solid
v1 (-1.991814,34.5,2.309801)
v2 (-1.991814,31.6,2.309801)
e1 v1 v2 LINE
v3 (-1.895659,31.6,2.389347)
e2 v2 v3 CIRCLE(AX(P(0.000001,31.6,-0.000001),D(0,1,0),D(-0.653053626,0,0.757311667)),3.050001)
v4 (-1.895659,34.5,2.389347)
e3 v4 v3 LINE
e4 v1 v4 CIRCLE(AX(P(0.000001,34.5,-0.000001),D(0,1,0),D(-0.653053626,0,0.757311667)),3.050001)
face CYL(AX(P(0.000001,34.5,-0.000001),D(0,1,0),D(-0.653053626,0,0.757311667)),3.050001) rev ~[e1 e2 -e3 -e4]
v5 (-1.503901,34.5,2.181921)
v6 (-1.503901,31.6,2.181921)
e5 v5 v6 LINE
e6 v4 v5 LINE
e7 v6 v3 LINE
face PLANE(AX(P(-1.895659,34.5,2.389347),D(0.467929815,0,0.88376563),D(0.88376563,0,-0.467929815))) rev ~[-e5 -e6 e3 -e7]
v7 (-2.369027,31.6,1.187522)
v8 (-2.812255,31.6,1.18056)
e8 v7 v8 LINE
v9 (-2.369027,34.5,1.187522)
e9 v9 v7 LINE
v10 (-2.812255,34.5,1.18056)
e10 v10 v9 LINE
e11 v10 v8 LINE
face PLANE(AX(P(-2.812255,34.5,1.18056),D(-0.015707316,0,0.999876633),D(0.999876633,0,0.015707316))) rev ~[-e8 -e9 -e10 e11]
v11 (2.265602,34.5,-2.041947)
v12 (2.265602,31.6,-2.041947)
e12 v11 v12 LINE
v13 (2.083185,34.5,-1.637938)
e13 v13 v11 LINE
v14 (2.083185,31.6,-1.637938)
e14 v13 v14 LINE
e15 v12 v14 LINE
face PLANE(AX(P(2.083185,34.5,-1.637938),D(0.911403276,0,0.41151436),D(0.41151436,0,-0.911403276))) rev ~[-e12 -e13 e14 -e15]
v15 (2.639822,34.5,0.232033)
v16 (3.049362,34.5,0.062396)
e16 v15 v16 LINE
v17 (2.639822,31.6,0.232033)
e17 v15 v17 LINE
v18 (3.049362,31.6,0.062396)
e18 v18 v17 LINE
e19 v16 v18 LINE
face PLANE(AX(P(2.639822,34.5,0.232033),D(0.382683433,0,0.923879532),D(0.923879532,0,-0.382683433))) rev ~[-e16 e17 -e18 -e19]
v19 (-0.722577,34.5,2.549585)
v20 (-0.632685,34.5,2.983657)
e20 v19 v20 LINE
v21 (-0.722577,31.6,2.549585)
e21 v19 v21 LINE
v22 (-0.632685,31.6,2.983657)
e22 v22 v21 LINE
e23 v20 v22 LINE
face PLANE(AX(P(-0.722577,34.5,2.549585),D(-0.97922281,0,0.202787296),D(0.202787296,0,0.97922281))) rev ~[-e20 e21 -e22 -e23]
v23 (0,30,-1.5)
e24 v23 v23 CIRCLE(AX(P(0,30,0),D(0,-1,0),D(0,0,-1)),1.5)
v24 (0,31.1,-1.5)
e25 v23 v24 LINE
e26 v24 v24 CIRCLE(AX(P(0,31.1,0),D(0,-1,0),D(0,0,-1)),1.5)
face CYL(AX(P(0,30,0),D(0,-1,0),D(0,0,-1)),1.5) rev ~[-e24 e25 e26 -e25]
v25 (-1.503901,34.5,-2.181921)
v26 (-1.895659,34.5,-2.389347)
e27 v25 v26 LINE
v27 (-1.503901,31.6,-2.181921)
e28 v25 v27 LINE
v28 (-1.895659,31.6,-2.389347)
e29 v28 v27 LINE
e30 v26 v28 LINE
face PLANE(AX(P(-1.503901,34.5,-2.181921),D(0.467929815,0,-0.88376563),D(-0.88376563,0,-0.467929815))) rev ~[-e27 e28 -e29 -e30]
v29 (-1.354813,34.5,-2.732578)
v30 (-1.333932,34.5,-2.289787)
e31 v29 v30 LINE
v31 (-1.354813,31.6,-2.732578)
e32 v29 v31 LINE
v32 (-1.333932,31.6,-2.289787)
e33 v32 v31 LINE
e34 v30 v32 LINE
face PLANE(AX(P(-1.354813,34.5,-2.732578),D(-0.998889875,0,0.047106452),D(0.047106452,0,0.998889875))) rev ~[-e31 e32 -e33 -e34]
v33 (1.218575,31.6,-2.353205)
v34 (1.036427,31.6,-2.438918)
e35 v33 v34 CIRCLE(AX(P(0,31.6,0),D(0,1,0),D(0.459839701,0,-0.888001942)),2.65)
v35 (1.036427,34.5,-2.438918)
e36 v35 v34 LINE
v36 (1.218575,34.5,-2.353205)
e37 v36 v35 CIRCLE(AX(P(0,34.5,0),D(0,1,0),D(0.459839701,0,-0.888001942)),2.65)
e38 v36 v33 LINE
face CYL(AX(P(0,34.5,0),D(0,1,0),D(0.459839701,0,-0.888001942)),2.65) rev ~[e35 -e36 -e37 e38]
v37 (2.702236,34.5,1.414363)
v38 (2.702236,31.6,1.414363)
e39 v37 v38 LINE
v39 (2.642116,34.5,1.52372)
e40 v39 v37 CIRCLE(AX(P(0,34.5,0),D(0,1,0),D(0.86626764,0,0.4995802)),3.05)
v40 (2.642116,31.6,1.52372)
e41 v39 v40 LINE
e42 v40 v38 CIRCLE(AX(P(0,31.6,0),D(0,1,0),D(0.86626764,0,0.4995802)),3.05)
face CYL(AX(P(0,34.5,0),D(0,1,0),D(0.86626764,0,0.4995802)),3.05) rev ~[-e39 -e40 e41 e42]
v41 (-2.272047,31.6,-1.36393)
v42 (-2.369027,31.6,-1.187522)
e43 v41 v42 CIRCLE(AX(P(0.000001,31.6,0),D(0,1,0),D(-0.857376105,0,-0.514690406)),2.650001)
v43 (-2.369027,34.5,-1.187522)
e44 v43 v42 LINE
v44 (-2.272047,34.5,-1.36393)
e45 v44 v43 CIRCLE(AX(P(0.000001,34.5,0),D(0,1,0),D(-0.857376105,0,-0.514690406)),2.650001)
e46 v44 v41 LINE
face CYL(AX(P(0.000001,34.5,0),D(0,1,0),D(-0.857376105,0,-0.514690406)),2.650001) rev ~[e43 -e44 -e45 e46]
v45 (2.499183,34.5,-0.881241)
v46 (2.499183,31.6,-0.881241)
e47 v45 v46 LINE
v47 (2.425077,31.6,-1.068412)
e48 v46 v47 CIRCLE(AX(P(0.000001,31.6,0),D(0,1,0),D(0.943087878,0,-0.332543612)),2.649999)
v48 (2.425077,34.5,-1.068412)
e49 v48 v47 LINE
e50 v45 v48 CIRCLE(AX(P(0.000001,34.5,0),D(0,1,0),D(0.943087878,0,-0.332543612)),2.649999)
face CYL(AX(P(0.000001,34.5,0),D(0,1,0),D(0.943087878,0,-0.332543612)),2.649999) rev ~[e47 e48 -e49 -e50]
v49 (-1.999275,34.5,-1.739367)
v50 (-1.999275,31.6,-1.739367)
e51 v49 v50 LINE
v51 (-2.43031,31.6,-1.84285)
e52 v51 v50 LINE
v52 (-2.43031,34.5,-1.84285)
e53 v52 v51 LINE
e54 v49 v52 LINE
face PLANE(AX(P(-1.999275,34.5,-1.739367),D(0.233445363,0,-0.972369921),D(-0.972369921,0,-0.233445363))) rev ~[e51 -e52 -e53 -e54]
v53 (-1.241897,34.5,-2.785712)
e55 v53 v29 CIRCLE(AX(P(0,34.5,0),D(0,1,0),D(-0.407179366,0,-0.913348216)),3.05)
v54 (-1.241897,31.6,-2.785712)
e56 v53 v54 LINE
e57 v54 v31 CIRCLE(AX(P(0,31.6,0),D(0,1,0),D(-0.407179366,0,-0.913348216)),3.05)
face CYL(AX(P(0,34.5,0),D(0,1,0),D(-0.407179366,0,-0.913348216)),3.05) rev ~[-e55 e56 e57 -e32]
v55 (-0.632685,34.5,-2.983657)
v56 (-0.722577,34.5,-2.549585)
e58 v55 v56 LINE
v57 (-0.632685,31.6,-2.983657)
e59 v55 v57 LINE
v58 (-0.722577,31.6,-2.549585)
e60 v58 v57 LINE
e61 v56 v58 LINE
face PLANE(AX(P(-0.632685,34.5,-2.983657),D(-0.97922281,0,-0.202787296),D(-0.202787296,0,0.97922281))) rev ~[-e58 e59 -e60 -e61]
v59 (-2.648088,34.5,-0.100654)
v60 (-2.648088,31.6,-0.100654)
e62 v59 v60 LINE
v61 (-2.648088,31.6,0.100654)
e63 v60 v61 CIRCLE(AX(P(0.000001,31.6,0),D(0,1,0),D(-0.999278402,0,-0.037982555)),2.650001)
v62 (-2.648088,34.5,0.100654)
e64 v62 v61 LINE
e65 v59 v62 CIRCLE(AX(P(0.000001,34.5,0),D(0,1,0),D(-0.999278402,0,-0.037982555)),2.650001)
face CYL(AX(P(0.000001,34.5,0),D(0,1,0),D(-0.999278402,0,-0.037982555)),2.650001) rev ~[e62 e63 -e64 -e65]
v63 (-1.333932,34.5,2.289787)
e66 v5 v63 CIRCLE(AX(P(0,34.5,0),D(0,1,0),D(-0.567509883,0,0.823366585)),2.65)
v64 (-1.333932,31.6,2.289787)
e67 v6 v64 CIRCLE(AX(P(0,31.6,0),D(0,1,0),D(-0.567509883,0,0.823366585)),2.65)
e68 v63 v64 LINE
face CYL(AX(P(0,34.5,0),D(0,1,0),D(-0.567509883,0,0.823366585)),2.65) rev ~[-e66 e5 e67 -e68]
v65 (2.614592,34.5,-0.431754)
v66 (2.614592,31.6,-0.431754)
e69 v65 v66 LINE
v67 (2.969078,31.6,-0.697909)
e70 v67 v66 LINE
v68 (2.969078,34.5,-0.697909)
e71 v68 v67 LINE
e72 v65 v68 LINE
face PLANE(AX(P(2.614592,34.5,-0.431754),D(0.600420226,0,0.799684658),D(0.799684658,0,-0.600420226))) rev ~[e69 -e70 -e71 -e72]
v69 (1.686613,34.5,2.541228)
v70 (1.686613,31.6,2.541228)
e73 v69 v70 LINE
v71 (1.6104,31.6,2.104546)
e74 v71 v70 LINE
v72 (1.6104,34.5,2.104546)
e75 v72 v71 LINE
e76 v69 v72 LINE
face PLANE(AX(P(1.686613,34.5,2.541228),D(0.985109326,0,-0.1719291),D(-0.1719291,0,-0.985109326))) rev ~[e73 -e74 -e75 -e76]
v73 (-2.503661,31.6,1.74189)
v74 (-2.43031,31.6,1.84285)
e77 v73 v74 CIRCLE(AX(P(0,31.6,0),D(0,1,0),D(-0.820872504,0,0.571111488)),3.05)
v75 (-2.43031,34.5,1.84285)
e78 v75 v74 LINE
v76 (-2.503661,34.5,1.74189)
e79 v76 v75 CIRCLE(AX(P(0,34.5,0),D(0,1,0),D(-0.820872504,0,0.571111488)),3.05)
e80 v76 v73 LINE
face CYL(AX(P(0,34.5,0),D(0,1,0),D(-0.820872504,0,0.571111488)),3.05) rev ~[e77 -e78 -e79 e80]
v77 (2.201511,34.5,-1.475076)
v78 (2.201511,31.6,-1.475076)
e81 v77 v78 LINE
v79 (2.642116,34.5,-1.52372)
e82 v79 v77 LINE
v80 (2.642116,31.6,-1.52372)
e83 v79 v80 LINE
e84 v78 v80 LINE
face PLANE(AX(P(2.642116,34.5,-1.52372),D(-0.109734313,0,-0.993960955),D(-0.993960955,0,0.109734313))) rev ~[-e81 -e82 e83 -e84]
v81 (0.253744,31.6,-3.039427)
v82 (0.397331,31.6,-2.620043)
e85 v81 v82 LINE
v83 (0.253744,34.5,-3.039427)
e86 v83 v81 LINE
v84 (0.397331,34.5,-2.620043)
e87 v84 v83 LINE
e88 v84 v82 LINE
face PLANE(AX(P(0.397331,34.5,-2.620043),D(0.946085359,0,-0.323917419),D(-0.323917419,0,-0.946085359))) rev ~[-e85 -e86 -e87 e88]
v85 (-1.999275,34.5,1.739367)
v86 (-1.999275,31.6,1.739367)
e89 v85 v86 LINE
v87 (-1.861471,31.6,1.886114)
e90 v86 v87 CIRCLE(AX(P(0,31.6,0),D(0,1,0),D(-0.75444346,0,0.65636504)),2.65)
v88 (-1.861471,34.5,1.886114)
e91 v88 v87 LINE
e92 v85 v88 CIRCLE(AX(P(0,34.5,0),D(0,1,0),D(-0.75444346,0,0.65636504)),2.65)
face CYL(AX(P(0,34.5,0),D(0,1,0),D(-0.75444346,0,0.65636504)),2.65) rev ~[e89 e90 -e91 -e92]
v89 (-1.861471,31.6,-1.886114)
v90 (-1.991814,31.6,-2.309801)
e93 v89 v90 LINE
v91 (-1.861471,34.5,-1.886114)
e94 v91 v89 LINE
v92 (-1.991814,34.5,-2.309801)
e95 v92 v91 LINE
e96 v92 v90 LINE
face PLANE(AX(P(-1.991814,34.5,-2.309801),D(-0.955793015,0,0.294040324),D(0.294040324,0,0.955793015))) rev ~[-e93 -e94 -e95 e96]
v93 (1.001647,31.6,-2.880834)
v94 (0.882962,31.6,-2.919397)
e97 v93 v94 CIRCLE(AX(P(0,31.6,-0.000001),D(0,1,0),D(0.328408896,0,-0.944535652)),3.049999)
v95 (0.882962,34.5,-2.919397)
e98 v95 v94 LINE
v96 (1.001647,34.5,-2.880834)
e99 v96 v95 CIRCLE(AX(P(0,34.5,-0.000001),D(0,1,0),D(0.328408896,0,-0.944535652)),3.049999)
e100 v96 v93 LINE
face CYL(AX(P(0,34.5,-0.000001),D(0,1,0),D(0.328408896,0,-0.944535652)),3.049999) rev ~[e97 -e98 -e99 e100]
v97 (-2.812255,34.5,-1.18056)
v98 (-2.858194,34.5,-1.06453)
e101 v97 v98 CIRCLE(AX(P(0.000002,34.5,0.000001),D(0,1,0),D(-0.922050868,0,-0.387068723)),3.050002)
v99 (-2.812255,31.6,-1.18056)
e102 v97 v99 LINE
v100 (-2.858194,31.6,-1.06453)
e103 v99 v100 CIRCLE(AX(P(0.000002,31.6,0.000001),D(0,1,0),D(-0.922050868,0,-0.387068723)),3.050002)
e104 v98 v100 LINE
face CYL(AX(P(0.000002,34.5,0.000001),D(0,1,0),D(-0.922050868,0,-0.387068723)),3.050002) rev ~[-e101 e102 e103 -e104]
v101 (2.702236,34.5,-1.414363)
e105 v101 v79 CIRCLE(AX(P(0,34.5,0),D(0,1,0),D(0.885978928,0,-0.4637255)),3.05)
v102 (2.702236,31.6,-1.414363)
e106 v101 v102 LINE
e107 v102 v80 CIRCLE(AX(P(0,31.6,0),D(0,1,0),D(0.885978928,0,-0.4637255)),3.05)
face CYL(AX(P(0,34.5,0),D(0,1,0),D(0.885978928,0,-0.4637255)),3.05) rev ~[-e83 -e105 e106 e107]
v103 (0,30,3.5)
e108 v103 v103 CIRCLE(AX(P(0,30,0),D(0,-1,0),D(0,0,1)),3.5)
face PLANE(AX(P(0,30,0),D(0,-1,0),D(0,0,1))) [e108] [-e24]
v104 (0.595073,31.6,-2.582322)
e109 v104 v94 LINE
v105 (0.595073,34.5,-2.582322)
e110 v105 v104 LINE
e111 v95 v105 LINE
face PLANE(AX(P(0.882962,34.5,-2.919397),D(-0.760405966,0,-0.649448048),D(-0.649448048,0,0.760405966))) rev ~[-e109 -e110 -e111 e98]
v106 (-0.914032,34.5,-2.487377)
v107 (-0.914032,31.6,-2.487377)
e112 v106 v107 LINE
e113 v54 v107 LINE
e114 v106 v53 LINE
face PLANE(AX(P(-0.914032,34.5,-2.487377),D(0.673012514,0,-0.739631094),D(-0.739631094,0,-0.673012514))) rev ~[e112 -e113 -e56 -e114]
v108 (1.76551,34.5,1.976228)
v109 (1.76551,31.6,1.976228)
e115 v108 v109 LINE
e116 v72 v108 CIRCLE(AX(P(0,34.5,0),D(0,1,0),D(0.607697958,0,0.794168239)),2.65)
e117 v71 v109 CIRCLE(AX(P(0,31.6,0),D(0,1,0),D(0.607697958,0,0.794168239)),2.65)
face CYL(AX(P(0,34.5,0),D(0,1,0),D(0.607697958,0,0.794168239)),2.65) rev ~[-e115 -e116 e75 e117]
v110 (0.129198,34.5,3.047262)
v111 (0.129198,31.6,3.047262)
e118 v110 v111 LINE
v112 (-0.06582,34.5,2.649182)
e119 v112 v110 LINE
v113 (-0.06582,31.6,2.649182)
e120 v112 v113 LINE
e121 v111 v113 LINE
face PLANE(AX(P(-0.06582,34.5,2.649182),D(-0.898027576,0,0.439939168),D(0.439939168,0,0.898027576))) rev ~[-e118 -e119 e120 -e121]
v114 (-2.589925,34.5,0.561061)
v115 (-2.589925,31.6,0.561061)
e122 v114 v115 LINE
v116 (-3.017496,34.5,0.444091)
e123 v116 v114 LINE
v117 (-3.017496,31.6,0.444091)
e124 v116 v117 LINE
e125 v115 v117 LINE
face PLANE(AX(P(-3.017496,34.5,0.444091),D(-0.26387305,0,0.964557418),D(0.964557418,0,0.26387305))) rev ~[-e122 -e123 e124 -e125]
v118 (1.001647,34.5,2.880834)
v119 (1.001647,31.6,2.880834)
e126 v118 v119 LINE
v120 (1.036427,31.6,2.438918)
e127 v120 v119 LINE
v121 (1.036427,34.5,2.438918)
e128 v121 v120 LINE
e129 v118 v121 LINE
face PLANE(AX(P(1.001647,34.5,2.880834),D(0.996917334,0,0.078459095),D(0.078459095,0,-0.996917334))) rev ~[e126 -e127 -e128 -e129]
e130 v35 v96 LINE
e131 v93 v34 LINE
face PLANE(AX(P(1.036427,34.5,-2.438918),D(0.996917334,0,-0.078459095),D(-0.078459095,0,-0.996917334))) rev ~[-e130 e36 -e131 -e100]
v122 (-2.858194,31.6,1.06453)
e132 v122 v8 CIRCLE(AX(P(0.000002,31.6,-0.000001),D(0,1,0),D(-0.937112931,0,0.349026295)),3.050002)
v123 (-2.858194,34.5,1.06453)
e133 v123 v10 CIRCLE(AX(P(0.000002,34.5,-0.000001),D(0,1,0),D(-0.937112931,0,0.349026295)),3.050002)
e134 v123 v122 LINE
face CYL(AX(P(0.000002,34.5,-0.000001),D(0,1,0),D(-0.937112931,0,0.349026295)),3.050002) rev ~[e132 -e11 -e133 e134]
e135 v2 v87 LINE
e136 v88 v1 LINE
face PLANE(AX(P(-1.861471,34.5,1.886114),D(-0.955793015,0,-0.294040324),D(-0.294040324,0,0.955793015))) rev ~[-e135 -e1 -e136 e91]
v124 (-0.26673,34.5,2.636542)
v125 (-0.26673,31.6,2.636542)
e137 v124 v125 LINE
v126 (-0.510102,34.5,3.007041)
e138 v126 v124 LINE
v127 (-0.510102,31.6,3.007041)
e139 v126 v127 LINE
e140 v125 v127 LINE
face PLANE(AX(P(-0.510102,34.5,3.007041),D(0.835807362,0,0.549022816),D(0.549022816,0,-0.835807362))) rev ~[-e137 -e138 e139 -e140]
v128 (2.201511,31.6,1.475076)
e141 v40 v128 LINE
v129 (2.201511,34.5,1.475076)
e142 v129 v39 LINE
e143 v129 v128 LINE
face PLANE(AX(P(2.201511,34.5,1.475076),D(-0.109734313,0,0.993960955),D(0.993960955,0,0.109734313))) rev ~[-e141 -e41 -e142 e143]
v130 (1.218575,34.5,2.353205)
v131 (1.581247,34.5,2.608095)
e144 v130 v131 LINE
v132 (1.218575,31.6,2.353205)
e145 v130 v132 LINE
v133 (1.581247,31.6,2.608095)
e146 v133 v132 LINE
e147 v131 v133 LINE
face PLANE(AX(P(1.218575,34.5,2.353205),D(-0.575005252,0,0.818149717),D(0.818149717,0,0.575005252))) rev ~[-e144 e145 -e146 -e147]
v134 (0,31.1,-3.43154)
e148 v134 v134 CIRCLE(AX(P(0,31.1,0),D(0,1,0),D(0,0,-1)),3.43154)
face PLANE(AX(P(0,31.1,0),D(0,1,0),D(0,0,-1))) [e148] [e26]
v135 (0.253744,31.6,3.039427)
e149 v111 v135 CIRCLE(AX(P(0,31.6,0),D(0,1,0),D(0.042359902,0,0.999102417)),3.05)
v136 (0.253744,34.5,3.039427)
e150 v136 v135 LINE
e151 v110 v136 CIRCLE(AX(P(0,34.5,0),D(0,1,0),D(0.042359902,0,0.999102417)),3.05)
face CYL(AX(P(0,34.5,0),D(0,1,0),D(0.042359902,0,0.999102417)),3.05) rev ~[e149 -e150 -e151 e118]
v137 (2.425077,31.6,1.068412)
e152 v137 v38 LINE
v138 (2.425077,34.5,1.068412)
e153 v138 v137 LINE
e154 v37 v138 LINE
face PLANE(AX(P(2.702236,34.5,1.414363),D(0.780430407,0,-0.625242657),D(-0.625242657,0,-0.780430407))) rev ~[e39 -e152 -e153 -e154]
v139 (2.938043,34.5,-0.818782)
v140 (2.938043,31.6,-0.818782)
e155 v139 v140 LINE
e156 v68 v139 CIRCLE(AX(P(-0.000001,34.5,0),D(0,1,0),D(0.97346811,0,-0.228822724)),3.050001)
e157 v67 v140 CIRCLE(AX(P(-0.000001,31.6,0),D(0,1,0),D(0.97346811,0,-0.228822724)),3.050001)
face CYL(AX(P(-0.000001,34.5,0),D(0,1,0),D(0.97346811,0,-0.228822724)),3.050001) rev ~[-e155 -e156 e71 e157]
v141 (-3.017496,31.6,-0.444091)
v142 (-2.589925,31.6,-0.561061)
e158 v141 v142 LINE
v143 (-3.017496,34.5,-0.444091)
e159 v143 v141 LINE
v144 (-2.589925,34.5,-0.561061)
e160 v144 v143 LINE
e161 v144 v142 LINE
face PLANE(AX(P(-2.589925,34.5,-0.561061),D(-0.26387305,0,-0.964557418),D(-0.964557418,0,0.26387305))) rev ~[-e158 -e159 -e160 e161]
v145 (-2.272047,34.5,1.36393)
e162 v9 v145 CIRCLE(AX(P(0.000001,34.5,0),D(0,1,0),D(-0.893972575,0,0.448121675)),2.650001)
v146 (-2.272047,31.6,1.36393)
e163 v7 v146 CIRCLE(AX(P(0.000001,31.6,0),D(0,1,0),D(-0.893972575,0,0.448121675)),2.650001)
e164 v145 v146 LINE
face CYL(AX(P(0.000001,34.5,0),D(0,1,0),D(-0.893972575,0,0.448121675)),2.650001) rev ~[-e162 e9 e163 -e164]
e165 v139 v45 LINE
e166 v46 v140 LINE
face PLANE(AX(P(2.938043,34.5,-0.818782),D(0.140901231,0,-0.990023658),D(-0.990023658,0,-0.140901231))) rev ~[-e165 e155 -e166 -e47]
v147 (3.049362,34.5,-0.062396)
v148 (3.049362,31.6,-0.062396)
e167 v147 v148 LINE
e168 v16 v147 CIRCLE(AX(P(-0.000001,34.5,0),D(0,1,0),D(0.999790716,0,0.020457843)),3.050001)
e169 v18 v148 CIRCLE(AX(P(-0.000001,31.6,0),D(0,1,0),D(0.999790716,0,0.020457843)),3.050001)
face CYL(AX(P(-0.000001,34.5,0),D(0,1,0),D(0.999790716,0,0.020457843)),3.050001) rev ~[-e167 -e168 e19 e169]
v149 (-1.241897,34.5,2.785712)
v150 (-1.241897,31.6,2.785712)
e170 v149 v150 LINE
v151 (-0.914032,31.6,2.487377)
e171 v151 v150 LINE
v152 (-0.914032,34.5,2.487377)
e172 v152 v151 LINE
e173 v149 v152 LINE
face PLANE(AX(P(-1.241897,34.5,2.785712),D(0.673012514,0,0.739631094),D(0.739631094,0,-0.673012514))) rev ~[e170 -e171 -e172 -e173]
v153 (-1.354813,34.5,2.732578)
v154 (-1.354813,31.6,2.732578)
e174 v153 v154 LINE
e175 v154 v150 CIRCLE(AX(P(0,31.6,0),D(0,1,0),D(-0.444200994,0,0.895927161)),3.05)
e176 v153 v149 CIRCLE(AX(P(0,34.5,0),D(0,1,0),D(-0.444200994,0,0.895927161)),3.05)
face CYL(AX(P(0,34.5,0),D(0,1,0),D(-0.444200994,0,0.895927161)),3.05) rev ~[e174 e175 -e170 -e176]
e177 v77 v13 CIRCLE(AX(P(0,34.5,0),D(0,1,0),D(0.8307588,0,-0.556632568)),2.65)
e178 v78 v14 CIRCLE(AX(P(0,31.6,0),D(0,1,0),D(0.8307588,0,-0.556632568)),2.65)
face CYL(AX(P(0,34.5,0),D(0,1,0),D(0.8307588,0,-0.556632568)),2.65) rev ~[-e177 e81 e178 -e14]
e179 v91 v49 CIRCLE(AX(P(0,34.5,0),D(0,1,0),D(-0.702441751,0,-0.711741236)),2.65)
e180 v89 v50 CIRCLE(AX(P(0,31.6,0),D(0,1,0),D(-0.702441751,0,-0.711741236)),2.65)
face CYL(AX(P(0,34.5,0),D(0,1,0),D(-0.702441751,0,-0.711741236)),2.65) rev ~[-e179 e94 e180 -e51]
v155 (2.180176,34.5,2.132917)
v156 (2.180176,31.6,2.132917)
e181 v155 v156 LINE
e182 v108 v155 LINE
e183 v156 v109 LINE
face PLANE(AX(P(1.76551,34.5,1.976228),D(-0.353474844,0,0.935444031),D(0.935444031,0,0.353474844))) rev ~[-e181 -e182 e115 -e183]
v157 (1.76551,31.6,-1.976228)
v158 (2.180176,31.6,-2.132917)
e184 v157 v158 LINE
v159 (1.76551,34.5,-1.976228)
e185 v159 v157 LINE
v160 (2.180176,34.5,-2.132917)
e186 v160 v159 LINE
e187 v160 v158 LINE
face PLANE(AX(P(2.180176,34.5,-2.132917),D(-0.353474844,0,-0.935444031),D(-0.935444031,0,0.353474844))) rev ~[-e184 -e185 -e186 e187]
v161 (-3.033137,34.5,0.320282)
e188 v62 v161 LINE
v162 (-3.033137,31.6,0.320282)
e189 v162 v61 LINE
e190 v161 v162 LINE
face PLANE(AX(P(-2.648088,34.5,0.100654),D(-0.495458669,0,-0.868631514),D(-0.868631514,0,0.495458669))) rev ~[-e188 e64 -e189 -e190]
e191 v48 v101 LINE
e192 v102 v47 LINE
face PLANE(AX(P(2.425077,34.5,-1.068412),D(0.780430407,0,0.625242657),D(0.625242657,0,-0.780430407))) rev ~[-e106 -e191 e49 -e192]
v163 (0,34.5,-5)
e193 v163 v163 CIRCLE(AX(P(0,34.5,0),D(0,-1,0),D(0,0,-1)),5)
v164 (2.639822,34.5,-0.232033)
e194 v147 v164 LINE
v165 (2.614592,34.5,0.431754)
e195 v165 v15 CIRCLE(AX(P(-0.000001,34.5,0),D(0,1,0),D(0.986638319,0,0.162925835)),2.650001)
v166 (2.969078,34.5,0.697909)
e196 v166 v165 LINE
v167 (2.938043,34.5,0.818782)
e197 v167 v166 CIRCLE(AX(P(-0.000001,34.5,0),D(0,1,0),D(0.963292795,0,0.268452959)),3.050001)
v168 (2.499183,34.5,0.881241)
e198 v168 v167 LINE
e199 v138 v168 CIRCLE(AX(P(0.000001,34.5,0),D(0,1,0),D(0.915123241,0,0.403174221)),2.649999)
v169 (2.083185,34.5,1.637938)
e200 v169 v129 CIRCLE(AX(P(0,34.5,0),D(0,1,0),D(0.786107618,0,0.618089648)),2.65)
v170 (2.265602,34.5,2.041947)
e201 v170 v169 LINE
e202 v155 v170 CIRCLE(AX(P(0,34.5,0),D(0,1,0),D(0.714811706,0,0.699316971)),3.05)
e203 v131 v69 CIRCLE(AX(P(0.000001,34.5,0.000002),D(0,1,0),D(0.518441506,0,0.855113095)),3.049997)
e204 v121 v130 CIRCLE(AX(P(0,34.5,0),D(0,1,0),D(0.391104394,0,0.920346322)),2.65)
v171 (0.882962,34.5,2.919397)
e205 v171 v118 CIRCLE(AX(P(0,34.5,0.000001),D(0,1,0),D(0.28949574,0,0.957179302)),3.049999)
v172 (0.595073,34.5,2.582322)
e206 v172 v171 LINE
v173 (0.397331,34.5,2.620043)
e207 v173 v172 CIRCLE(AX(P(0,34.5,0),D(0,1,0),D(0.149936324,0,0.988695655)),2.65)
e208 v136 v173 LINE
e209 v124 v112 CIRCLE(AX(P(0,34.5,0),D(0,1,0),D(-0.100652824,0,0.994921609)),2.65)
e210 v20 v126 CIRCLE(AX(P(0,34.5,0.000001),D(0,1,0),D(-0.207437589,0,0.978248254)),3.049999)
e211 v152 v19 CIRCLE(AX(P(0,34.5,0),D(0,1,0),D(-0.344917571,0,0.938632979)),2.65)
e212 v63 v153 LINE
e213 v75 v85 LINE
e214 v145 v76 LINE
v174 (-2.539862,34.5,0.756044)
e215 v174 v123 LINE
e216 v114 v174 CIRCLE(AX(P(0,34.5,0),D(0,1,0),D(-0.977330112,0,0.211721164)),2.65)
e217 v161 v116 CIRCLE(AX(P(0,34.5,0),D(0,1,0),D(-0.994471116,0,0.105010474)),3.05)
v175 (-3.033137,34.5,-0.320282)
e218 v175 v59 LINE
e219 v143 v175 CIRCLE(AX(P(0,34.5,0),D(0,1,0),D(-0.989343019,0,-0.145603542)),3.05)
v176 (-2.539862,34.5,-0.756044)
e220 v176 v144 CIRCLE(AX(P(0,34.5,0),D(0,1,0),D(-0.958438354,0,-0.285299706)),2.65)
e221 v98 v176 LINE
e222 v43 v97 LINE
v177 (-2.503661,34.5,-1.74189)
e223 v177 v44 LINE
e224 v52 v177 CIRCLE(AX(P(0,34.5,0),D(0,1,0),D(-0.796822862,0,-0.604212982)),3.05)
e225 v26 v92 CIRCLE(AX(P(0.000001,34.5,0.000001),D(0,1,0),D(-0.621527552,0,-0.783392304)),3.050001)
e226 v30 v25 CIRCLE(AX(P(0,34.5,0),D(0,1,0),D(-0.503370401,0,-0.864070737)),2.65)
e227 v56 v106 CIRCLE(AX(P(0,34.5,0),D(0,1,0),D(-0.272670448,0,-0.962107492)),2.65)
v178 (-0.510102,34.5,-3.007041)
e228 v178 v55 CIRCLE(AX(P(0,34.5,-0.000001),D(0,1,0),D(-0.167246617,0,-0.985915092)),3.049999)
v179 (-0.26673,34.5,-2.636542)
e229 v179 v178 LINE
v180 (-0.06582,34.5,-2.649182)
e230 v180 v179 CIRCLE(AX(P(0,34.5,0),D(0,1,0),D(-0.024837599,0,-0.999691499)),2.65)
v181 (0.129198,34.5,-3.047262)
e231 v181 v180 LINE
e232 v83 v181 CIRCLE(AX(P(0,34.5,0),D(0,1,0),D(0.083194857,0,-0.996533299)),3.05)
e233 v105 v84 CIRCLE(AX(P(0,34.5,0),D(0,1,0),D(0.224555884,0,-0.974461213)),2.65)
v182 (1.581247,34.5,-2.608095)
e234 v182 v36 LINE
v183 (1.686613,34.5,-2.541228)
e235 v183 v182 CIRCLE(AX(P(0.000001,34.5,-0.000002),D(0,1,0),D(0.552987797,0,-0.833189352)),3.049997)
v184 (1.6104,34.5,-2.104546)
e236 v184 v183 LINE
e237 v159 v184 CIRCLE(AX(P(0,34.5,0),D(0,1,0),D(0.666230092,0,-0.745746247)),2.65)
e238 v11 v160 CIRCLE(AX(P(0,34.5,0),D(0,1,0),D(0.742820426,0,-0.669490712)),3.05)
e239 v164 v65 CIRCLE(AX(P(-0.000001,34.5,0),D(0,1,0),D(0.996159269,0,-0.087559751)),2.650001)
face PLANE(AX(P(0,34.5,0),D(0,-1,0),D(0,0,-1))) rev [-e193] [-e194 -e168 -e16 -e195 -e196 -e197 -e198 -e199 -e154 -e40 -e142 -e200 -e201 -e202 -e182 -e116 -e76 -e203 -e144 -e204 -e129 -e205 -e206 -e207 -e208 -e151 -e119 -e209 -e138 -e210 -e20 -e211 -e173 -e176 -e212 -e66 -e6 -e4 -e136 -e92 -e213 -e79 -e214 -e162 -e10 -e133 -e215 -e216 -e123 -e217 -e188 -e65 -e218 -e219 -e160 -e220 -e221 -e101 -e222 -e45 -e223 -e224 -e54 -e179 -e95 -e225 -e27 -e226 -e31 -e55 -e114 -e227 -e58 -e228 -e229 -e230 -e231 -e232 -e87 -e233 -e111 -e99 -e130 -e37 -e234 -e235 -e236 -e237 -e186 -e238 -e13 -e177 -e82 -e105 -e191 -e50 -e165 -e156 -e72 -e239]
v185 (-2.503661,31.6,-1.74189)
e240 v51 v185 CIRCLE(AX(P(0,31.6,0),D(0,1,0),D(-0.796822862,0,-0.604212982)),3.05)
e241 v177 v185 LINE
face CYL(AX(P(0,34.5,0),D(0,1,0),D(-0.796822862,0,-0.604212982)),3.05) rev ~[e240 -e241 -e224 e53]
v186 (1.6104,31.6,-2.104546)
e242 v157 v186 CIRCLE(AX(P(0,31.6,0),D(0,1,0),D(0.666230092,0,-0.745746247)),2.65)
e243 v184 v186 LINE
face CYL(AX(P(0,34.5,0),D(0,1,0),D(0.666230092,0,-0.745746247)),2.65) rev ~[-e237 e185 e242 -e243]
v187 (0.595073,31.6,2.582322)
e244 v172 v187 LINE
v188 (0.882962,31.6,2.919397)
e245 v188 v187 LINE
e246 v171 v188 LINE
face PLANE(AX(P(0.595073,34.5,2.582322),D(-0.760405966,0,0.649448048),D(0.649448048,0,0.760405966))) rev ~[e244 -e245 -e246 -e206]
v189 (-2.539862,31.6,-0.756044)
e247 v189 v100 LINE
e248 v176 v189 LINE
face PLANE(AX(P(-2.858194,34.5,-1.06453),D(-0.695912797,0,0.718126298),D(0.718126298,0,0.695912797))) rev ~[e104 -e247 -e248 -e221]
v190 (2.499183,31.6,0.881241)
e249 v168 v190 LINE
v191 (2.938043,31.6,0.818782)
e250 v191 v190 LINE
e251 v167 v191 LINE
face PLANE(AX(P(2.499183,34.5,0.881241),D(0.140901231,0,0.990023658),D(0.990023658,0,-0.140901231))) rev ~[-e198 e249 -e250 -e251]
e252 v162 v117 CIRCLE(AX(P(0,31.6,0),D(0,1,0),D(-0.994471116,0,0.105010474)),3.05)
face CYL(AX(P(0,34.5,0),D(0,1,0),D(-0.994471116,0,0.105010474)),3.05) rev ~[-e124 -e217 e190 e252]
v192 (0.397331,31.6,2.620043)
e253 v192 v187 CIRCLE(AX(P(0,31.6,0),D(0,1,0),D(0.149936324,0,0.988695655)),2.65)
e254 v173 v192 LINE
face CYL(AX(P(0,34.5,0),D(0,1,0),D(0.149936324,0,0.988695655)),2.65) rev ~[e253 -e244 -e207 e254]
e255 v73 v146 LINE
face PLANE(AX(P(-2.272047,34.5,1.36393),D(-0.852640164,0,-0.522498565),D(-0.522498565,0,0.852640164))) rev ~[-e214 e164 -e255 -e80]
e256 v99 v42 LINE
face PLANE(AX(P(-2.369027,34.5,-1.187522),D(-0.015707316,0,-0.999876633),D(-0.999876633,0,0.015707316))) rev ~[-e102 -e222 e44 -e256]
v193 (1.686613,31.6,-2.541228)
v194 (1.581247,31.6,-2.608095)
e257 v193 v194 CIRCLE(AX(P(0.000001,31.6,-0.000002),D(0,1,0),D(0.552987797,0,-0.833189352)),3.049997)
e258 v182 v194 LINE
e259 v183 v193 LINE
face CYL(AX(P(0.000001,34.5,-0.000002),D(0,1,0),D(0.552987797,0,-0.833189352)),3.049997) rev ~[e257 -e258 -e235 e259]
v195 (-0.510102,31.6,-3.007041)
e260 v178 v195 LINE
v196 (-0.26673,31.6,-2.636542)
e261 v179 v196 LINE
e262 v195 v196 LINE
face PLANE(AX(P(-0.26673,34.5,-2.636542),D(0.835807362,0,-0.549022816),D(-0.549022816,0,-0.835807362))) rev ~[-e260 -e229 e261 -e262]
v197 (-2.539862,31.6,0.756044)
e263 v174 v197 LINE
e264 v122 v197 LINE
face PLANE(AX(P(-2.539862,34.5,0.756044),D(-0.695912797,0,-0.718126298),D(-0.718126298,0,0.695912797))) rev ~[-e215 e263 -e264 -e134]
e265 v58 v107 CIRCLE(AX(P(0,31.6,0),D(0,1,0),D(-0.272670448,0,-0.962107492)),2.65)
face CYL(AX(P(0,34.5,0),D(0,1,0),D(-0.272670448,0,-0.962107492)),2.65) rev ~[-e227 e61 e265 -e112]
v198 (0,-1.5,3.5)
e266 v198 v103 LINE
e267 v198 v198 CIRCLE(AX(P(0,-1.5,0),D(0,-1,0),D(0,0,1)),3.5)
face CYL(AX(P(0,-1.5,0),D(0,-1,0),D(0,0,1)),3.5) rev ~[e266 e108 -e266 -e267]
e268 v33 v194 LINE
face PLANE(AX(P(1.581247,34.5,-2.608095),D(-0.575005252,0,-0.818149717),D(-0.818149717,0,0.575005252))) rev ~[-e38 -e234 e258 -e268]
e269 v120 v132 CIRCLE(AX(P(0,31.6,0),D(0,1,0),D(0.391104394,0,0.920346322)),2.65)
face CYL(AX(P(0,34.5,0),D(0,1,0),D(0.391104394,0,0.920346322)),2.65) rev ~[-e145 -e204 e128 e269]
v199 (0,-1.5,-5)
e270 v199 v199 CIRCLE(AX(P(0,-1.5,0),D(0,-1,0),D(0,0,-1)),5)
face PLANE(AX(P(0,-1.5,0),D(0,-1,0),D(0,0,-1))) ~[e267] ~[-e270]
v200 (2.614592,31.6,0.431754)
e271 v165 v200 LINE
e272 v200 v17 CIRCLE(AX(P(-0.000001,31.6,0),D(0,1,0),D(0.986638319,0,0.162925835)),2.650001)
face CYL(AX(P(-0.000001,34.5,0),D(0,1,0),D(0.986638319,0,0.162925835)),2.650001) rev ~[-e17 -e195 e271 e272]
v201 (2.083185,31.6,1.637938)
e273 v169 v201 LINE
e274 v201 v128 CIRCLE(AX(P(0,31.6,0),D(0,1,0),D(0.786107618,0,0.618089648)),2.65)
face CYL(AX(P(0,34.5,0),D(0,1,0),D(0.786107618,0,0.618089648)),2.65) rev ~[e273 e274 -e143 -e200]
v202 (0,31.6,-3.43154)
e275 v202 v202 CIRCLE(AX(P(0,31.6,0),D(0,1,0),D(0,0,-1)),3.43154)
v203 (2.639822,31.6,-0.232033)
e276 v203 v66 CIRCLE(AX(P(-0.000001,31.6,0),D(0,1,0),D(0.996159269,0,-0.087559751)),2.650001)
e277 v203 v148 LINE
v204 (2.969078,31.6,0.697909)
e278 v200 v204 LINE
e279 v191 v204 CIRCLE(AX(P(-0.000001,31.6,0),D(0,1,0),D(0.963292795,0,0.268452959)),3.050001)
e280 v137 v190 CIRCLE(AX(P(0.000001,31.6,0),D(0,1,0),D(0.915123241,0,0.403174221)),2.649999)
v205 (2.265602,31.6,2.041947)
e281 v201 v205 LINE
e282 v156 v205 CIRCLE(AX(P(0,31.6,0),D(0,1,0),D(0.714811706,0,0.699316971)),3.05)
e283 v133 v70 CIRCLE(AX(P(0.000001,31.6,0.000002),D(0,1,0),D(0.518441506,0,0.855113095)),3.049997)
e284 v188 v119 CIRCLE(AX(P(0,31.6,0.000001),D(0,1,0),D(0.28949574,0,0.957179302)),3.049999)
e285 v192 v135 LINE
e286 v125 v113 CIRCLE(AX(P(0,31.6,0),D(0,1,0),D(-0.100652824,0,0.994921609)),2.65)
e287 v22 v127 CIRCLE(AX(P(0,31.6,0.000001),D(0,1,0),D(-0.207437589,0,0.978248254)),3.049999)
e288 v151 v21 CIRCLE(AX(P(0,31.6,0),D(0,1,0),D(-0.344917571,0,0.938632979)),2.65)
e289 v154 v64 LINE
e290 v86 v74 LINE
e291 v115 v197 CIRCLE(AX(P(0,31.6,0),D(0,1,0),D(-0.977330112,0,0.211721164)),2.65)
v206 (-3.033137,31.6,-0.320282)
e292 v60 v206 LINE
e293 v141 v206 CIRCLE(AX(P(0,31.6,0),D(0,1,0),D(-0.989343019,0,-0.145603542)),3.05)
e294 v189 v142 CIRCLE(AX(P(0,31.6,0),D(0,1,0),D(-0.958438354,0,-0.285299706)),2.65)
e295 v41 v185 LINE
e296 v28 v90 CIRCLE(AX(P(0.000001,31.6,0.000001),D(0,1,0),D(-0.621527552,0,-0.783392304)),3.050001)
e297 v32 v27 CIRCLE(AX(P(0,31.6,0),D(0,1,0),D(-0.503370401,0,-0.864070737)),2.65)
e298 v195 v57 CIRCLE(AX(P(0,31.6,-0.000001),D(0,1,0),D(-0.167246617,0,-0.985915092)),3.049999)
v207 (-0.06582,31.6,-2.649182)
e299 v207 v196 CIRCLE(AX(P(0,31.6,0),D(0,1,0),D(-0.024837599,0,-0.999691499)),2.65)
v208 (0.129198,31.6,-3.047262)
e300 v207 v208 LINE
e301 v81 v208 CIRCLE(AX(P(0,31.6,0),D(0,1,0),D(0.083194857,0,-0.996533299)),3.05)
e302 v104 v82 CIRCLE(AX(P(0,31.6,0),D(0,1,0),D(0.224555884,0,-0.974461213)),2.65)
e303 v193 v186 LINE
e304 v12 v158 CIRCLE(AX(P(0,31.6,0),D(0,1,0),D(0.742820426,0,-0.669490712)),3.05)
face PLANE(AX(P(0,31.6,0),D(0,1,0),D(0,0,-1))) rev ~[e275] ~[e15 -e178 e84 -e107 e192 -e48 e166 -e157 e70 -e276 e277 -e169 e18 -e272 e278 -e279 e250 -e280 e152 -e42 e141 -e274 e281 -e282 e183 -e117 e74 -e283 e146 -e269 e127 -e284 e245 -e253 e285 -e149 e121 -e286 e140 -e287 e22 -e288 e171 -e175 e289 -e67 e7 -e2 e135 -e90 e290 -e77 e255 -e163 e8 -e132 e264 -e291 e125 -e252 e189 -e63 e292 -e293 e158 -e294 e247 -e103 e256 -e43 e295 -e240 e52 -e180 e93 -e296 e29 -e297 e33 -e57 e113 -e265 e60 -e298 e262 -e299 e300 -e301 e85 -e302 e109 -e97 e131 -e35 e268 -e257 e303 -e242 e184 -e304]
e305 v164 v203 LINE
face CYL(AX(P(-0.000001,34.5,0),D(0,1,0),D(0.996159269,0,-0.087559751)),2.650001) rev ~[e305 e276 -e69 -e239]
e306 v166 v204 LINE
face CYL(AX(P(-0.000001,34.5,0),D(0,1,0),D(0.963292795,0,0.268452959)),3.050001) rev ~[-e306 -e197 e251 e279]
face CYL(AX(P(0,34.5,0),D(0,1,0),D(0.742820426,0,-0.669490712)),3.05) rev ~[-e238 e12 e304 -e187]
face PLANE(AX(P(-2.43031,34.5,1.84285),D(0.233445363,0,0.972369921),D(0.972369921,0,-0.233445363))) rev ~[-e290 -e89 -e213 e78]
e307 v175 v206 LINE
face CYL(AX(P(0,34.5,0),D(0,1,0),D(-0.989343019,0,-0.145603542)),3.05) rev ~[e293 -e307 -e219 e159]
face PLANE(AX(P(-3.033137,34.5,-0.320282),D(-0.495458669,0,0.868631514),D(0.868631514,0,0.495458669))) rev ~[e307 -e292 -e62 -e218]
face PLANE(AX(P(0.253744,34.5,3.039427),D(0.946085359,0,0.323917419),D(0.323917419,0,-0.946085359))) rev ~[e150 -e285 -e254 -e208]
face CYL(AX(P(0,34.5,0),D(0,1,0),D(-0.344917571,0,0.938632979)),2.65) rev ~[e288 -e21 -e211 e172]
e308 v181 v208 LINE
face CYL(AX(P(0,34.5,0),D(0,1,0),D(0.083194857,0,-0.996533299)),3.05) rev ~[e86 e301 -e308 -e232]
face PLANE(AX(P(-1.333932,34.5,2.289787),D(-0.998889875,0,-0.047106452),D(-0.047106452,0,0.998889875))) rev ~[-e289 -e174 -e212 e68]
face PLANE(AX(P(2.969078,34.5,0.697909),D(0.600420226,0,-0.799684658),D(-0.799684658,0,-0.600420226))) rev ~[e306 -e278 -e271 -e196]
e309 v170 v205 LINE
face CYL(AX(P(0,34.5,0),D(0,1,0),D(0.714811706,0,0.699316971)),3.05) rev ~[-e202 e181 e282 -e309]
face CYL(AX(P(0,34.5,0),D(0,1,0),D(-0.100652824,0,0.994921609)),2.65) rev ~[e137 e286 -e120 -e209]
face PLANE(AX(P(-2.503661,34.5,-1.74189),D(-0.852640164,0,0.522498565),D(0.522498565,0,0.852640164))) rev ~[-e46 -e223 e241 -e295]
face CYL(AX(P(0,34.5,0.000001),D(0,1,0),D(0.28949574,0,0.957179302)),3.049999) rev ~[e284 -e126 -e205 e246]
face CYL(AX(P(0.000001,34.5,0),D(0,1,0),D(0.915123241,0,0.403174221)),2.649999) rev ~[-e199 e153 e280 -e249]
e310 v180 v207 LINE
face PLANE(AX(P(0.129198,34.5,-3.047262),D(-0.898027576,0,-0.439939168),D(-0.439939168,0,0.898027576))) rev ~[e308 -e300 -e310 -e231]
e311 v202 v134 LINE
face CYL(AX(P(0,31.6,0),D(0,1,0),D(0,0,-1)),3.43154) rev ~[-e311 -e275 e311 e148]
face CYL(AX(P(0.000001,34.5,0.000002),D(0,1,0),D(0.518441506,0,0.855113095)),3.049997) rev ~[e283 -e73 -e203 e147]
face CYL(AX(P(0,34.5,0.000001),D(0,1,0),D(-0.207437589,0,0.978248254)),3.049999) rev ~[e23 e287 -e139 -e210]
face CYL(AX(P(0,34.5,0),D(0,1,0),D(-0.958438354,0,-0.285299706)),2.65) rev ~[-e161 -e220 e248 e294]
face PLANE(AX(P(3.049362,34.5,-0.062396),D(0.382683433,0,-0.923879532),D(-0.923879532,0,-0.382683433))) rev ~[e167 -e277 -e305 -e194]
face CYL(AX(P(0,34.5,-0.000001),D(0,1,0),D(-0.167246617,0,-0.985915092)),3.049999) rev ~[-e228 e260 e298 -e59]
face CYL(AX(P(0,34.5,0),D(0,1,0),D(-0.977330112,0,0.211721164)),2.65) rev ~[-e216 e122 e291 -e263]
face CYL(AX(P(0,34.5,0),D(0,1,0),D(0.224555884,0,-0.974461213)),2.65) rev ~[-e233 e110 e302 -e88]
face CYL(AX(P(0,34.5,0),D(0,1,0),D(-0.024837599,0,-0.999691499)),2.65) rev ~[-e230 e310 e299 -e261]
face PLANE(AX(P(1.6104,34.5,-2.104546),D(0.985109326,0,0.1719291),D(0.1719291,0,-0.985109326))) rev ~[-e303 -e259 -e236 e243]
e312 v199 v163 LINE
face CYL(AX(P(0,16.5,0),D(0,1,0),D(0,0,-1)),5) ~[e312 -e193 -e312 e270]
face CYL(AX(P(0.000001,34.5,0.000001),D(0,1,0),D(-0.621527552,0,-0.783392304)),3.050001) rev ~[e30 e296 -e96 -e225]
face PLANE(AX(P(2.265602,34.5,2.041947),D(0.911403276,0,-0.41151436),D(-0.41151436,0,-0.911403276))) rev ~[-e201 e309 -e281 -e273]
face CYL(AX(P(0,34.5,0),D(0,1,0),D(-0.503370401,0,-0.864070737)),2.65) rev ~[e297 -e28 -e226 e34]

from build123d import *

# Parameters (mm, degrees)
SKETCH1_W          = 5
SKETCH1_H          = 36
SKETCH2_R          = 3.43154
CUT_EXTRUDE1_DEPTH = 0.5
SKETCH3_R          = 3.5
CUT_EXTRUDE2_DEPTH = 31.5
CUT_EXTRUDE3_REACH = 34.284
SKETCH4_R          = 1.5
CUT_EXTRUDE4_REACH = 38.688


with BuildPart() as part:
    # Sketch1 → Revolve1 (revolve)
    with BuildSketch(Plane.XY, mode=Mode.PRIVATE) as revolve1_sk:
        with Locations((2.5, 16.5)):
            Rectangle(SKETCH1_W, SKETCH1_H)
    revolve(revolve1_sk.sketch.rotate(Axis((0, 34.5, 0), (0, -1, 0)), 270), axis=Axis((0, 34.5, 0), (0, -1, 0)))

    # Sketch2 → Cut-Extrude1 (cut)
    with BuildSketch(Plane(origin=(0, 31.6, 0), x_dir=(1, 0, 0), z_dir=(0, 1, 0))):
        with Locations(Location((0, 0, 0), (0, 0, 90))):
            Circle(SKETCH2_R)
    extrude(amount=-CUT_EXTRUDE1_DEPTH, mode=Mode.SUBTRACT)

    # Sketch3 → Cut-Extrude2 (cut)
    with BuildSketch(Plane.XZ.offset(1.5)):
        with Locations(Location((0, 0, 0), (0, 0, 90))):
            Circle(SKETCH3_R)
    extrude(amount=-CUT_EXTRUDE2_DEPTH, mode=Mode.SUBTRACT)

    # Sketch4 → Cut-Extrude3 (cut, up to next)
    with BuildSketch(Plane.XZ.offset(-30), mode=Mode.PRIVATE) as cut_extrude3_sk1:
        with Locations(Location((0, 0, 0), (0, 0, 270))):
            Circle(SKETCH4_R)
    cut_extrude3_tool1 = extrude(cut_extrude3_sk1.sketch, amount=-CUT_EXTRUDE3_REACH, mode=Mode.PRIVATE) & part.part
    add(cut_extrude3_tool1.solids().sort_by_distance((0, 30, 0))[0], mode=Mode.SUBTRACT)

    # Sketch5 → Cut-Extrude4 (cut, up to next)
    with BuildSketch(Plane(origin=(0, 34.5, 0), x_dir=(-1, 0, 0), z_dir=(0, 1, 0)), mode=Mode.PRIVATE) as cut_extrude4_sk1:
        with BuildLine():
            Line((2.430309722, 1.842849602), (1.999275165, 1.739367361))
            ThreePointArc((1.999275165, 1.739367361), (1.931766863, 1.814049831), (1.861470643, 1.886114272))
            Line((1.861470643, 1.886114272), (1.991813569, 2.309800577))
            ThreePointArc((1.991813569, 2.309800577), (1.944143169, 2.35006539), (1.895659013, 2.389346544))
            Line((1.895659013, 2.389346544), (1.503901187, 2.181921452))
            ThreePointArc((1.503901187, 2.181921452), (1.419941007, 2.237469003), (1.333931574, 2.289787448))
            Line((1.333931574, 2.289787448), (1.354813039, 2.732577836))
            ThreePointArc((1.354813039, 2.732577836), (1.298626839, 2.75972251), (1.241897077, 2.785712054))
            Line((1.241897077, 2.785712054), (0.914031566, 2.487377393))
            ThreePointArc((0.914031566, 2.487377393), (0.818895035, 2.520299768), (0.722576679, 2.549584857))
            Line((0.722576679, 2.549584857), (0.632684622, 2.98365718))
            ThreePointArc((0.632684622, 2.98365718), (0.571513009, 2.995976115), (0.51010218, 3.007041032))
            Line((0.51010218, 3.007041032), (0.26672998, 2.636542265))
            ThreePointArc((0.26672998, 2.636542265), (0.166394877, 2.64477083), (0.065819633, 2.649182473))
            Line((0.065819633, 2.649182473), (-0.129197696, 3.047262371))
            ThreePointArc((-0.129197696, 3.047262371), (-0.191511085, 3.043981522), (-0.253744312, 3.039426562))
            Line((-0.253744312, 3.039426562), (-0.397331231, 2.620043491))
            ThreePointArc((-0.397331231, 2.620043491), (-0.496560484, 2.603061214), (-0.595073102, 2.582322211))
            Line((-0.595073102, 2.582322211), (-0.882962048, 2.919396859))
            ThreePointArc((-0.882962048, 2.919396859), (-0.942501833, 2.900722375), (-1.001647117, 2.880833743))
            Line((-1.001647117, 2.880833743), (-1.03642666, 2.438917747))
            ThreePointArc((-1.03642666, 2.438917747), (-1.128315123, 2.397791689), (-1.218575206, 2.353205148))
            Line((-1.218575206, 2.353205148), (-1.581246647, 2.608094906))
            ThreePointArc((-1.581246647, 2.608094906), (-1.634271725, 2.575200173), (-1.686612749, 2.541227545))
            Line((-1.686612749, 2.541227545), (-1.61039959, 2.104545832))
            ThreePointArc((-1.61039959, 2.104545832), (-1.689173573, 2.041860093), (-1.765509747, 1.976227551))
            Line((-1.765509747, 1.976227551), (-2.180175704, 2.132916759))
            ThreePointArc((-2.180175704, 2.132916759), (-2.223354314, 2.087868673), (-2.2656023, 2.041946674))
            Line((-2.2656023, 2.041946674), (-2.083185191, 1.637937563))
            ThreePointArc((-2.083185191, 1.637937563), (-2.143895035, 1.557630919), (-2.201510819, 1.475076308))
            Line((-2.201510819, 1.475076308), (-2.642116303, 1.523719607))
            ThreePointArc((-2.642116303, 1.523719607), (-2.672735374, 1.469348706), (-2.702235725, 1.414362784))
            Line((-2.702235725, 1.414362784), (-2.425076605, 1.068411652))
            ThreePointArc((-2.425076605, 1.068411652), (-2.463907688, 0.975530065), (-2.499182869, 0.881240596))
            Line((-2.499182869, 0.881240596), (-2.938043018, 0.818781548))
            ThreePointArc((-2.938043018, 0.818781548), (-2.954178641, 0.758504156), (-2.969077742, 0.697909279))
            Line((-2.969077742, 0.697909279), (-2.614591538, 0.431753508))
            ThreePointArc((-2.614591538, 0.431753508), (-2.629103958, 0.332133069), (-2.639822068, 0.232033297))
            Line((-2.639822068, 0.232033297), (-3.049361685, 0.062396433))
            ThreePointArc((-3.049361685, 0.062396433), (-3.05, 0), (-3.049361685, -0.062396433))
            Line((-3.049361685, -0.062396433), (-2.639822068, -0.232033297))
            ThreePointArc((-2.639822068, -0.232033297), (-2.629103958, -0.332133069), (-2.614591538, -0.431753508))
            Line((-2.614591538, -0.431753508), (-2.969077742, -0.697909279))
            ThreePointArc((-2.969077742, -0.697909279), (-2.954178641, -0.758504156), (-2.938043018, -0.818781548))
            Line((-2.938043018, -0.818781548), (-2.499182869, -0.881240596))
            ThreePointArc((-2.499182869, -0.881240596), (-2.463907688, -0.975530065), (-2.425076605, -1.068411652))
            Line((-2.425076605, -1.068411652), (-2.702235725, -1.414362784))
            ThreePointArc((-2.702235725, -1.414362784), (-2.672735374, -1.469348706), (-2.642116303, -1.523719607))
            Line((-2.642116303, -1.523719607), (-2.201510819, -1.475076308))
            ThreePointArc((-2.201510819, -1.475076308), (-2.143895035, -1.557630919), (-2.083185191, -1.637937563))
            Line((-2.083185191, -1.637937563), (-2.2656023, -2.041946674))
            ThreePointArc((-2.2656023, -2.041946674), (-2.223354314, -2.087868673), (-2.180175704, -2.132916759))
            Line((-2.180175704, -2.132916759), (-1.765509747, -1.976227551))
            ThreePointArc((-1.765509747, -1.976227551), (-1.689173573, -2.041860093), (-1.61039959, -2.104545832))
            Line((-1.61039959, -2.104545832), (-1.686612749, -2.541227545))
            ThreePointArc((-1.686612749, -2.541227545), (-1.634271725, -2.575200173), (-1.581246647, -2.608094906))
            Line((-1.581246647, -2.608094906), (-1.218575206, -2.353205148))
            ThreePointArc((-1.218575206, -2.353205148), (-1.128315123, -2.397791689), (-1.03642666, -2.438917747))
            Line((-1.03642666, -2.438917747), (-1.001647117, -2.880833743))
            ThreePointArc((-1.001647117, -2.880833743), (-0.942501833, -2.900722375), (-0.882962048, -2.919396859))
            Line((-0.882962048, -2.919396859), (-0.595073102, -2.582322211))
            ThreePointArc((-0.595073102, -2.582322211), (-0.496560484, -2.603061214), (-0.397331231, -2.620043491))
            Line((-0.397331231, -2.620043491), (-0.253744312, -3.039426562))
            ThreePointArc((-0.253744312, -3.039426562), (-0.191511085, -3.043981522), (-0.129197696, -3.047262371))
            Line((-0.129197696, -3.047262371), (0.065819633, -2.649182473))
            ThreePointArc((0.065819633, -2.649182473), (0.166394877, -2.64477083), (0.26672998, -2.636542265))
            Line((0.26672998, -2.636542265), (0.51010218, -3.007041032))
            ThreePointArc((0.51010218, -3.007041032), (0.571513009, -2.995976115), (0.632684622, -2.98365718))
            Line((0.632684622, -2.98365718), (0.722576679, -2.549584857))
            ThreePointArc((0.722576679, -2.549584857), (0.818895035, -2.520299768), (0.914031566, -2.487377393))
            Line((0.914031566, -2.487377393), (1.241897077, -2.785712054))
            ThreePointArc((1.241897077, -2.785712054), (1.298626839, -2.75972251), (1.354813039, -2.732577836))
            Line((1.354813039, -2.732577836), (1.333931574, -2.289787448))
            ThreePointArc((1.333931574, -2.289787448), (1.419941007, -2.237469003), (1.503901187, -2.181921452))
            Line((1.503901187, -2.181921452), (1.895659013, -2.389346544))
            ThreePointArc((1.895659013, -2.389346544), (1.944143169, -2.35006539), (1.991813569, -2.309800577))
            Line((1.991813569, -2.309800577), (1.861470643, -1.886114272))
            ThreePointArc((1.861470643, -1.886114272), (1.931766863, -1.814049831), (1.999275165, -1.739367361))
            Line((1.999275165, -1.739367361), (2.430309722, -1.842849602))
            ThreePointArc((2.430309722, -1.842849602), (2.467501833, -1.792745019), (2.503661128, -1.741890052))
            Line((2.503661128, -1.741890052), (2.272046665, -1.3639296))
            ThreePointArc((2.272046665, -1.3639296), (2.322212702, -1.276647236), (2.369027332, -1.187522421))
            Line((2.369027332, -1.187522421), (2.812255133, -1.180559643))
            ThreePointArc((2.812255133, -1.180559643), (2.835818282, -1.122779886), (2.858194451, -1.06453017))
            Line((2.858194451, -1.06453017), (2.539861639, -0.756044214))
            ThreePointArc((2.539861639, -0.756044214), (2.566745377, -0.659028201), (2.589924799, -0.561061081))
            Line((2.589924799, -0.561061081), (3.01749621, -0.444090779))
            ThreePointArc((3.01749621, -0.444090779), (3.025949839, -0.382266362), (3.033136904, -0.320281942))
            Line((3.033136904, -0.320281942), (2.648087766, -0.100653791))
            ThreePointArc((2.648087766, -0.100653791), (2.65, 0), (2.648087766, 0.100653791))
            Line((2.648087766, 0.100653791), (3.033136904, 0.320281942))
            ThreePointArc((3.033136904, 0.320281942), (3.025949839, 0.382266362), (3.01749621, 0.444090779))
            Line((3.01749621, 0.444090779), (2.589924799, 0.561061081))
            ThreePointArc((2.589924799, 0.561061081), (2.566745377, 0.659028201), (2.539861639, 0.756044214))
            Line((2.539861639, 0.756044214), (2.858194451, 1.06453017))
            ThreePointArc((2.858194451, 1.06453017), (2.835818282, 1.122779886), (2.812255133, 1.180559643))
            Line((2.812255133, 1.180559643), (2.369027332, 1.187522421))
            ThreePointArc((2.369027332, 1.187522421), (2.322212702, 1.276647236), (2.272046665, 1.3639296))
            Line((2.272046665, 1.3639296), (2.503661128, 1.741890052))
            ThreePointArc((2.503661128, 1.741890052), (2.467501833, 1.792745019), (2.430309722, 1.842849602))
        make_face()
    cut_extrude4_tool1 = extrude(cut_extrude4_sk1.sketch, amount=-CUT_EXTRUDE4_REACH, mode=Mode.PRIVATE) & part.part
    add(cut_extrude4_tool1.solids().sort_by_distance((0, 34.5, 0))[0], mode=Mode.SUBTRACT)


solid = part.part
